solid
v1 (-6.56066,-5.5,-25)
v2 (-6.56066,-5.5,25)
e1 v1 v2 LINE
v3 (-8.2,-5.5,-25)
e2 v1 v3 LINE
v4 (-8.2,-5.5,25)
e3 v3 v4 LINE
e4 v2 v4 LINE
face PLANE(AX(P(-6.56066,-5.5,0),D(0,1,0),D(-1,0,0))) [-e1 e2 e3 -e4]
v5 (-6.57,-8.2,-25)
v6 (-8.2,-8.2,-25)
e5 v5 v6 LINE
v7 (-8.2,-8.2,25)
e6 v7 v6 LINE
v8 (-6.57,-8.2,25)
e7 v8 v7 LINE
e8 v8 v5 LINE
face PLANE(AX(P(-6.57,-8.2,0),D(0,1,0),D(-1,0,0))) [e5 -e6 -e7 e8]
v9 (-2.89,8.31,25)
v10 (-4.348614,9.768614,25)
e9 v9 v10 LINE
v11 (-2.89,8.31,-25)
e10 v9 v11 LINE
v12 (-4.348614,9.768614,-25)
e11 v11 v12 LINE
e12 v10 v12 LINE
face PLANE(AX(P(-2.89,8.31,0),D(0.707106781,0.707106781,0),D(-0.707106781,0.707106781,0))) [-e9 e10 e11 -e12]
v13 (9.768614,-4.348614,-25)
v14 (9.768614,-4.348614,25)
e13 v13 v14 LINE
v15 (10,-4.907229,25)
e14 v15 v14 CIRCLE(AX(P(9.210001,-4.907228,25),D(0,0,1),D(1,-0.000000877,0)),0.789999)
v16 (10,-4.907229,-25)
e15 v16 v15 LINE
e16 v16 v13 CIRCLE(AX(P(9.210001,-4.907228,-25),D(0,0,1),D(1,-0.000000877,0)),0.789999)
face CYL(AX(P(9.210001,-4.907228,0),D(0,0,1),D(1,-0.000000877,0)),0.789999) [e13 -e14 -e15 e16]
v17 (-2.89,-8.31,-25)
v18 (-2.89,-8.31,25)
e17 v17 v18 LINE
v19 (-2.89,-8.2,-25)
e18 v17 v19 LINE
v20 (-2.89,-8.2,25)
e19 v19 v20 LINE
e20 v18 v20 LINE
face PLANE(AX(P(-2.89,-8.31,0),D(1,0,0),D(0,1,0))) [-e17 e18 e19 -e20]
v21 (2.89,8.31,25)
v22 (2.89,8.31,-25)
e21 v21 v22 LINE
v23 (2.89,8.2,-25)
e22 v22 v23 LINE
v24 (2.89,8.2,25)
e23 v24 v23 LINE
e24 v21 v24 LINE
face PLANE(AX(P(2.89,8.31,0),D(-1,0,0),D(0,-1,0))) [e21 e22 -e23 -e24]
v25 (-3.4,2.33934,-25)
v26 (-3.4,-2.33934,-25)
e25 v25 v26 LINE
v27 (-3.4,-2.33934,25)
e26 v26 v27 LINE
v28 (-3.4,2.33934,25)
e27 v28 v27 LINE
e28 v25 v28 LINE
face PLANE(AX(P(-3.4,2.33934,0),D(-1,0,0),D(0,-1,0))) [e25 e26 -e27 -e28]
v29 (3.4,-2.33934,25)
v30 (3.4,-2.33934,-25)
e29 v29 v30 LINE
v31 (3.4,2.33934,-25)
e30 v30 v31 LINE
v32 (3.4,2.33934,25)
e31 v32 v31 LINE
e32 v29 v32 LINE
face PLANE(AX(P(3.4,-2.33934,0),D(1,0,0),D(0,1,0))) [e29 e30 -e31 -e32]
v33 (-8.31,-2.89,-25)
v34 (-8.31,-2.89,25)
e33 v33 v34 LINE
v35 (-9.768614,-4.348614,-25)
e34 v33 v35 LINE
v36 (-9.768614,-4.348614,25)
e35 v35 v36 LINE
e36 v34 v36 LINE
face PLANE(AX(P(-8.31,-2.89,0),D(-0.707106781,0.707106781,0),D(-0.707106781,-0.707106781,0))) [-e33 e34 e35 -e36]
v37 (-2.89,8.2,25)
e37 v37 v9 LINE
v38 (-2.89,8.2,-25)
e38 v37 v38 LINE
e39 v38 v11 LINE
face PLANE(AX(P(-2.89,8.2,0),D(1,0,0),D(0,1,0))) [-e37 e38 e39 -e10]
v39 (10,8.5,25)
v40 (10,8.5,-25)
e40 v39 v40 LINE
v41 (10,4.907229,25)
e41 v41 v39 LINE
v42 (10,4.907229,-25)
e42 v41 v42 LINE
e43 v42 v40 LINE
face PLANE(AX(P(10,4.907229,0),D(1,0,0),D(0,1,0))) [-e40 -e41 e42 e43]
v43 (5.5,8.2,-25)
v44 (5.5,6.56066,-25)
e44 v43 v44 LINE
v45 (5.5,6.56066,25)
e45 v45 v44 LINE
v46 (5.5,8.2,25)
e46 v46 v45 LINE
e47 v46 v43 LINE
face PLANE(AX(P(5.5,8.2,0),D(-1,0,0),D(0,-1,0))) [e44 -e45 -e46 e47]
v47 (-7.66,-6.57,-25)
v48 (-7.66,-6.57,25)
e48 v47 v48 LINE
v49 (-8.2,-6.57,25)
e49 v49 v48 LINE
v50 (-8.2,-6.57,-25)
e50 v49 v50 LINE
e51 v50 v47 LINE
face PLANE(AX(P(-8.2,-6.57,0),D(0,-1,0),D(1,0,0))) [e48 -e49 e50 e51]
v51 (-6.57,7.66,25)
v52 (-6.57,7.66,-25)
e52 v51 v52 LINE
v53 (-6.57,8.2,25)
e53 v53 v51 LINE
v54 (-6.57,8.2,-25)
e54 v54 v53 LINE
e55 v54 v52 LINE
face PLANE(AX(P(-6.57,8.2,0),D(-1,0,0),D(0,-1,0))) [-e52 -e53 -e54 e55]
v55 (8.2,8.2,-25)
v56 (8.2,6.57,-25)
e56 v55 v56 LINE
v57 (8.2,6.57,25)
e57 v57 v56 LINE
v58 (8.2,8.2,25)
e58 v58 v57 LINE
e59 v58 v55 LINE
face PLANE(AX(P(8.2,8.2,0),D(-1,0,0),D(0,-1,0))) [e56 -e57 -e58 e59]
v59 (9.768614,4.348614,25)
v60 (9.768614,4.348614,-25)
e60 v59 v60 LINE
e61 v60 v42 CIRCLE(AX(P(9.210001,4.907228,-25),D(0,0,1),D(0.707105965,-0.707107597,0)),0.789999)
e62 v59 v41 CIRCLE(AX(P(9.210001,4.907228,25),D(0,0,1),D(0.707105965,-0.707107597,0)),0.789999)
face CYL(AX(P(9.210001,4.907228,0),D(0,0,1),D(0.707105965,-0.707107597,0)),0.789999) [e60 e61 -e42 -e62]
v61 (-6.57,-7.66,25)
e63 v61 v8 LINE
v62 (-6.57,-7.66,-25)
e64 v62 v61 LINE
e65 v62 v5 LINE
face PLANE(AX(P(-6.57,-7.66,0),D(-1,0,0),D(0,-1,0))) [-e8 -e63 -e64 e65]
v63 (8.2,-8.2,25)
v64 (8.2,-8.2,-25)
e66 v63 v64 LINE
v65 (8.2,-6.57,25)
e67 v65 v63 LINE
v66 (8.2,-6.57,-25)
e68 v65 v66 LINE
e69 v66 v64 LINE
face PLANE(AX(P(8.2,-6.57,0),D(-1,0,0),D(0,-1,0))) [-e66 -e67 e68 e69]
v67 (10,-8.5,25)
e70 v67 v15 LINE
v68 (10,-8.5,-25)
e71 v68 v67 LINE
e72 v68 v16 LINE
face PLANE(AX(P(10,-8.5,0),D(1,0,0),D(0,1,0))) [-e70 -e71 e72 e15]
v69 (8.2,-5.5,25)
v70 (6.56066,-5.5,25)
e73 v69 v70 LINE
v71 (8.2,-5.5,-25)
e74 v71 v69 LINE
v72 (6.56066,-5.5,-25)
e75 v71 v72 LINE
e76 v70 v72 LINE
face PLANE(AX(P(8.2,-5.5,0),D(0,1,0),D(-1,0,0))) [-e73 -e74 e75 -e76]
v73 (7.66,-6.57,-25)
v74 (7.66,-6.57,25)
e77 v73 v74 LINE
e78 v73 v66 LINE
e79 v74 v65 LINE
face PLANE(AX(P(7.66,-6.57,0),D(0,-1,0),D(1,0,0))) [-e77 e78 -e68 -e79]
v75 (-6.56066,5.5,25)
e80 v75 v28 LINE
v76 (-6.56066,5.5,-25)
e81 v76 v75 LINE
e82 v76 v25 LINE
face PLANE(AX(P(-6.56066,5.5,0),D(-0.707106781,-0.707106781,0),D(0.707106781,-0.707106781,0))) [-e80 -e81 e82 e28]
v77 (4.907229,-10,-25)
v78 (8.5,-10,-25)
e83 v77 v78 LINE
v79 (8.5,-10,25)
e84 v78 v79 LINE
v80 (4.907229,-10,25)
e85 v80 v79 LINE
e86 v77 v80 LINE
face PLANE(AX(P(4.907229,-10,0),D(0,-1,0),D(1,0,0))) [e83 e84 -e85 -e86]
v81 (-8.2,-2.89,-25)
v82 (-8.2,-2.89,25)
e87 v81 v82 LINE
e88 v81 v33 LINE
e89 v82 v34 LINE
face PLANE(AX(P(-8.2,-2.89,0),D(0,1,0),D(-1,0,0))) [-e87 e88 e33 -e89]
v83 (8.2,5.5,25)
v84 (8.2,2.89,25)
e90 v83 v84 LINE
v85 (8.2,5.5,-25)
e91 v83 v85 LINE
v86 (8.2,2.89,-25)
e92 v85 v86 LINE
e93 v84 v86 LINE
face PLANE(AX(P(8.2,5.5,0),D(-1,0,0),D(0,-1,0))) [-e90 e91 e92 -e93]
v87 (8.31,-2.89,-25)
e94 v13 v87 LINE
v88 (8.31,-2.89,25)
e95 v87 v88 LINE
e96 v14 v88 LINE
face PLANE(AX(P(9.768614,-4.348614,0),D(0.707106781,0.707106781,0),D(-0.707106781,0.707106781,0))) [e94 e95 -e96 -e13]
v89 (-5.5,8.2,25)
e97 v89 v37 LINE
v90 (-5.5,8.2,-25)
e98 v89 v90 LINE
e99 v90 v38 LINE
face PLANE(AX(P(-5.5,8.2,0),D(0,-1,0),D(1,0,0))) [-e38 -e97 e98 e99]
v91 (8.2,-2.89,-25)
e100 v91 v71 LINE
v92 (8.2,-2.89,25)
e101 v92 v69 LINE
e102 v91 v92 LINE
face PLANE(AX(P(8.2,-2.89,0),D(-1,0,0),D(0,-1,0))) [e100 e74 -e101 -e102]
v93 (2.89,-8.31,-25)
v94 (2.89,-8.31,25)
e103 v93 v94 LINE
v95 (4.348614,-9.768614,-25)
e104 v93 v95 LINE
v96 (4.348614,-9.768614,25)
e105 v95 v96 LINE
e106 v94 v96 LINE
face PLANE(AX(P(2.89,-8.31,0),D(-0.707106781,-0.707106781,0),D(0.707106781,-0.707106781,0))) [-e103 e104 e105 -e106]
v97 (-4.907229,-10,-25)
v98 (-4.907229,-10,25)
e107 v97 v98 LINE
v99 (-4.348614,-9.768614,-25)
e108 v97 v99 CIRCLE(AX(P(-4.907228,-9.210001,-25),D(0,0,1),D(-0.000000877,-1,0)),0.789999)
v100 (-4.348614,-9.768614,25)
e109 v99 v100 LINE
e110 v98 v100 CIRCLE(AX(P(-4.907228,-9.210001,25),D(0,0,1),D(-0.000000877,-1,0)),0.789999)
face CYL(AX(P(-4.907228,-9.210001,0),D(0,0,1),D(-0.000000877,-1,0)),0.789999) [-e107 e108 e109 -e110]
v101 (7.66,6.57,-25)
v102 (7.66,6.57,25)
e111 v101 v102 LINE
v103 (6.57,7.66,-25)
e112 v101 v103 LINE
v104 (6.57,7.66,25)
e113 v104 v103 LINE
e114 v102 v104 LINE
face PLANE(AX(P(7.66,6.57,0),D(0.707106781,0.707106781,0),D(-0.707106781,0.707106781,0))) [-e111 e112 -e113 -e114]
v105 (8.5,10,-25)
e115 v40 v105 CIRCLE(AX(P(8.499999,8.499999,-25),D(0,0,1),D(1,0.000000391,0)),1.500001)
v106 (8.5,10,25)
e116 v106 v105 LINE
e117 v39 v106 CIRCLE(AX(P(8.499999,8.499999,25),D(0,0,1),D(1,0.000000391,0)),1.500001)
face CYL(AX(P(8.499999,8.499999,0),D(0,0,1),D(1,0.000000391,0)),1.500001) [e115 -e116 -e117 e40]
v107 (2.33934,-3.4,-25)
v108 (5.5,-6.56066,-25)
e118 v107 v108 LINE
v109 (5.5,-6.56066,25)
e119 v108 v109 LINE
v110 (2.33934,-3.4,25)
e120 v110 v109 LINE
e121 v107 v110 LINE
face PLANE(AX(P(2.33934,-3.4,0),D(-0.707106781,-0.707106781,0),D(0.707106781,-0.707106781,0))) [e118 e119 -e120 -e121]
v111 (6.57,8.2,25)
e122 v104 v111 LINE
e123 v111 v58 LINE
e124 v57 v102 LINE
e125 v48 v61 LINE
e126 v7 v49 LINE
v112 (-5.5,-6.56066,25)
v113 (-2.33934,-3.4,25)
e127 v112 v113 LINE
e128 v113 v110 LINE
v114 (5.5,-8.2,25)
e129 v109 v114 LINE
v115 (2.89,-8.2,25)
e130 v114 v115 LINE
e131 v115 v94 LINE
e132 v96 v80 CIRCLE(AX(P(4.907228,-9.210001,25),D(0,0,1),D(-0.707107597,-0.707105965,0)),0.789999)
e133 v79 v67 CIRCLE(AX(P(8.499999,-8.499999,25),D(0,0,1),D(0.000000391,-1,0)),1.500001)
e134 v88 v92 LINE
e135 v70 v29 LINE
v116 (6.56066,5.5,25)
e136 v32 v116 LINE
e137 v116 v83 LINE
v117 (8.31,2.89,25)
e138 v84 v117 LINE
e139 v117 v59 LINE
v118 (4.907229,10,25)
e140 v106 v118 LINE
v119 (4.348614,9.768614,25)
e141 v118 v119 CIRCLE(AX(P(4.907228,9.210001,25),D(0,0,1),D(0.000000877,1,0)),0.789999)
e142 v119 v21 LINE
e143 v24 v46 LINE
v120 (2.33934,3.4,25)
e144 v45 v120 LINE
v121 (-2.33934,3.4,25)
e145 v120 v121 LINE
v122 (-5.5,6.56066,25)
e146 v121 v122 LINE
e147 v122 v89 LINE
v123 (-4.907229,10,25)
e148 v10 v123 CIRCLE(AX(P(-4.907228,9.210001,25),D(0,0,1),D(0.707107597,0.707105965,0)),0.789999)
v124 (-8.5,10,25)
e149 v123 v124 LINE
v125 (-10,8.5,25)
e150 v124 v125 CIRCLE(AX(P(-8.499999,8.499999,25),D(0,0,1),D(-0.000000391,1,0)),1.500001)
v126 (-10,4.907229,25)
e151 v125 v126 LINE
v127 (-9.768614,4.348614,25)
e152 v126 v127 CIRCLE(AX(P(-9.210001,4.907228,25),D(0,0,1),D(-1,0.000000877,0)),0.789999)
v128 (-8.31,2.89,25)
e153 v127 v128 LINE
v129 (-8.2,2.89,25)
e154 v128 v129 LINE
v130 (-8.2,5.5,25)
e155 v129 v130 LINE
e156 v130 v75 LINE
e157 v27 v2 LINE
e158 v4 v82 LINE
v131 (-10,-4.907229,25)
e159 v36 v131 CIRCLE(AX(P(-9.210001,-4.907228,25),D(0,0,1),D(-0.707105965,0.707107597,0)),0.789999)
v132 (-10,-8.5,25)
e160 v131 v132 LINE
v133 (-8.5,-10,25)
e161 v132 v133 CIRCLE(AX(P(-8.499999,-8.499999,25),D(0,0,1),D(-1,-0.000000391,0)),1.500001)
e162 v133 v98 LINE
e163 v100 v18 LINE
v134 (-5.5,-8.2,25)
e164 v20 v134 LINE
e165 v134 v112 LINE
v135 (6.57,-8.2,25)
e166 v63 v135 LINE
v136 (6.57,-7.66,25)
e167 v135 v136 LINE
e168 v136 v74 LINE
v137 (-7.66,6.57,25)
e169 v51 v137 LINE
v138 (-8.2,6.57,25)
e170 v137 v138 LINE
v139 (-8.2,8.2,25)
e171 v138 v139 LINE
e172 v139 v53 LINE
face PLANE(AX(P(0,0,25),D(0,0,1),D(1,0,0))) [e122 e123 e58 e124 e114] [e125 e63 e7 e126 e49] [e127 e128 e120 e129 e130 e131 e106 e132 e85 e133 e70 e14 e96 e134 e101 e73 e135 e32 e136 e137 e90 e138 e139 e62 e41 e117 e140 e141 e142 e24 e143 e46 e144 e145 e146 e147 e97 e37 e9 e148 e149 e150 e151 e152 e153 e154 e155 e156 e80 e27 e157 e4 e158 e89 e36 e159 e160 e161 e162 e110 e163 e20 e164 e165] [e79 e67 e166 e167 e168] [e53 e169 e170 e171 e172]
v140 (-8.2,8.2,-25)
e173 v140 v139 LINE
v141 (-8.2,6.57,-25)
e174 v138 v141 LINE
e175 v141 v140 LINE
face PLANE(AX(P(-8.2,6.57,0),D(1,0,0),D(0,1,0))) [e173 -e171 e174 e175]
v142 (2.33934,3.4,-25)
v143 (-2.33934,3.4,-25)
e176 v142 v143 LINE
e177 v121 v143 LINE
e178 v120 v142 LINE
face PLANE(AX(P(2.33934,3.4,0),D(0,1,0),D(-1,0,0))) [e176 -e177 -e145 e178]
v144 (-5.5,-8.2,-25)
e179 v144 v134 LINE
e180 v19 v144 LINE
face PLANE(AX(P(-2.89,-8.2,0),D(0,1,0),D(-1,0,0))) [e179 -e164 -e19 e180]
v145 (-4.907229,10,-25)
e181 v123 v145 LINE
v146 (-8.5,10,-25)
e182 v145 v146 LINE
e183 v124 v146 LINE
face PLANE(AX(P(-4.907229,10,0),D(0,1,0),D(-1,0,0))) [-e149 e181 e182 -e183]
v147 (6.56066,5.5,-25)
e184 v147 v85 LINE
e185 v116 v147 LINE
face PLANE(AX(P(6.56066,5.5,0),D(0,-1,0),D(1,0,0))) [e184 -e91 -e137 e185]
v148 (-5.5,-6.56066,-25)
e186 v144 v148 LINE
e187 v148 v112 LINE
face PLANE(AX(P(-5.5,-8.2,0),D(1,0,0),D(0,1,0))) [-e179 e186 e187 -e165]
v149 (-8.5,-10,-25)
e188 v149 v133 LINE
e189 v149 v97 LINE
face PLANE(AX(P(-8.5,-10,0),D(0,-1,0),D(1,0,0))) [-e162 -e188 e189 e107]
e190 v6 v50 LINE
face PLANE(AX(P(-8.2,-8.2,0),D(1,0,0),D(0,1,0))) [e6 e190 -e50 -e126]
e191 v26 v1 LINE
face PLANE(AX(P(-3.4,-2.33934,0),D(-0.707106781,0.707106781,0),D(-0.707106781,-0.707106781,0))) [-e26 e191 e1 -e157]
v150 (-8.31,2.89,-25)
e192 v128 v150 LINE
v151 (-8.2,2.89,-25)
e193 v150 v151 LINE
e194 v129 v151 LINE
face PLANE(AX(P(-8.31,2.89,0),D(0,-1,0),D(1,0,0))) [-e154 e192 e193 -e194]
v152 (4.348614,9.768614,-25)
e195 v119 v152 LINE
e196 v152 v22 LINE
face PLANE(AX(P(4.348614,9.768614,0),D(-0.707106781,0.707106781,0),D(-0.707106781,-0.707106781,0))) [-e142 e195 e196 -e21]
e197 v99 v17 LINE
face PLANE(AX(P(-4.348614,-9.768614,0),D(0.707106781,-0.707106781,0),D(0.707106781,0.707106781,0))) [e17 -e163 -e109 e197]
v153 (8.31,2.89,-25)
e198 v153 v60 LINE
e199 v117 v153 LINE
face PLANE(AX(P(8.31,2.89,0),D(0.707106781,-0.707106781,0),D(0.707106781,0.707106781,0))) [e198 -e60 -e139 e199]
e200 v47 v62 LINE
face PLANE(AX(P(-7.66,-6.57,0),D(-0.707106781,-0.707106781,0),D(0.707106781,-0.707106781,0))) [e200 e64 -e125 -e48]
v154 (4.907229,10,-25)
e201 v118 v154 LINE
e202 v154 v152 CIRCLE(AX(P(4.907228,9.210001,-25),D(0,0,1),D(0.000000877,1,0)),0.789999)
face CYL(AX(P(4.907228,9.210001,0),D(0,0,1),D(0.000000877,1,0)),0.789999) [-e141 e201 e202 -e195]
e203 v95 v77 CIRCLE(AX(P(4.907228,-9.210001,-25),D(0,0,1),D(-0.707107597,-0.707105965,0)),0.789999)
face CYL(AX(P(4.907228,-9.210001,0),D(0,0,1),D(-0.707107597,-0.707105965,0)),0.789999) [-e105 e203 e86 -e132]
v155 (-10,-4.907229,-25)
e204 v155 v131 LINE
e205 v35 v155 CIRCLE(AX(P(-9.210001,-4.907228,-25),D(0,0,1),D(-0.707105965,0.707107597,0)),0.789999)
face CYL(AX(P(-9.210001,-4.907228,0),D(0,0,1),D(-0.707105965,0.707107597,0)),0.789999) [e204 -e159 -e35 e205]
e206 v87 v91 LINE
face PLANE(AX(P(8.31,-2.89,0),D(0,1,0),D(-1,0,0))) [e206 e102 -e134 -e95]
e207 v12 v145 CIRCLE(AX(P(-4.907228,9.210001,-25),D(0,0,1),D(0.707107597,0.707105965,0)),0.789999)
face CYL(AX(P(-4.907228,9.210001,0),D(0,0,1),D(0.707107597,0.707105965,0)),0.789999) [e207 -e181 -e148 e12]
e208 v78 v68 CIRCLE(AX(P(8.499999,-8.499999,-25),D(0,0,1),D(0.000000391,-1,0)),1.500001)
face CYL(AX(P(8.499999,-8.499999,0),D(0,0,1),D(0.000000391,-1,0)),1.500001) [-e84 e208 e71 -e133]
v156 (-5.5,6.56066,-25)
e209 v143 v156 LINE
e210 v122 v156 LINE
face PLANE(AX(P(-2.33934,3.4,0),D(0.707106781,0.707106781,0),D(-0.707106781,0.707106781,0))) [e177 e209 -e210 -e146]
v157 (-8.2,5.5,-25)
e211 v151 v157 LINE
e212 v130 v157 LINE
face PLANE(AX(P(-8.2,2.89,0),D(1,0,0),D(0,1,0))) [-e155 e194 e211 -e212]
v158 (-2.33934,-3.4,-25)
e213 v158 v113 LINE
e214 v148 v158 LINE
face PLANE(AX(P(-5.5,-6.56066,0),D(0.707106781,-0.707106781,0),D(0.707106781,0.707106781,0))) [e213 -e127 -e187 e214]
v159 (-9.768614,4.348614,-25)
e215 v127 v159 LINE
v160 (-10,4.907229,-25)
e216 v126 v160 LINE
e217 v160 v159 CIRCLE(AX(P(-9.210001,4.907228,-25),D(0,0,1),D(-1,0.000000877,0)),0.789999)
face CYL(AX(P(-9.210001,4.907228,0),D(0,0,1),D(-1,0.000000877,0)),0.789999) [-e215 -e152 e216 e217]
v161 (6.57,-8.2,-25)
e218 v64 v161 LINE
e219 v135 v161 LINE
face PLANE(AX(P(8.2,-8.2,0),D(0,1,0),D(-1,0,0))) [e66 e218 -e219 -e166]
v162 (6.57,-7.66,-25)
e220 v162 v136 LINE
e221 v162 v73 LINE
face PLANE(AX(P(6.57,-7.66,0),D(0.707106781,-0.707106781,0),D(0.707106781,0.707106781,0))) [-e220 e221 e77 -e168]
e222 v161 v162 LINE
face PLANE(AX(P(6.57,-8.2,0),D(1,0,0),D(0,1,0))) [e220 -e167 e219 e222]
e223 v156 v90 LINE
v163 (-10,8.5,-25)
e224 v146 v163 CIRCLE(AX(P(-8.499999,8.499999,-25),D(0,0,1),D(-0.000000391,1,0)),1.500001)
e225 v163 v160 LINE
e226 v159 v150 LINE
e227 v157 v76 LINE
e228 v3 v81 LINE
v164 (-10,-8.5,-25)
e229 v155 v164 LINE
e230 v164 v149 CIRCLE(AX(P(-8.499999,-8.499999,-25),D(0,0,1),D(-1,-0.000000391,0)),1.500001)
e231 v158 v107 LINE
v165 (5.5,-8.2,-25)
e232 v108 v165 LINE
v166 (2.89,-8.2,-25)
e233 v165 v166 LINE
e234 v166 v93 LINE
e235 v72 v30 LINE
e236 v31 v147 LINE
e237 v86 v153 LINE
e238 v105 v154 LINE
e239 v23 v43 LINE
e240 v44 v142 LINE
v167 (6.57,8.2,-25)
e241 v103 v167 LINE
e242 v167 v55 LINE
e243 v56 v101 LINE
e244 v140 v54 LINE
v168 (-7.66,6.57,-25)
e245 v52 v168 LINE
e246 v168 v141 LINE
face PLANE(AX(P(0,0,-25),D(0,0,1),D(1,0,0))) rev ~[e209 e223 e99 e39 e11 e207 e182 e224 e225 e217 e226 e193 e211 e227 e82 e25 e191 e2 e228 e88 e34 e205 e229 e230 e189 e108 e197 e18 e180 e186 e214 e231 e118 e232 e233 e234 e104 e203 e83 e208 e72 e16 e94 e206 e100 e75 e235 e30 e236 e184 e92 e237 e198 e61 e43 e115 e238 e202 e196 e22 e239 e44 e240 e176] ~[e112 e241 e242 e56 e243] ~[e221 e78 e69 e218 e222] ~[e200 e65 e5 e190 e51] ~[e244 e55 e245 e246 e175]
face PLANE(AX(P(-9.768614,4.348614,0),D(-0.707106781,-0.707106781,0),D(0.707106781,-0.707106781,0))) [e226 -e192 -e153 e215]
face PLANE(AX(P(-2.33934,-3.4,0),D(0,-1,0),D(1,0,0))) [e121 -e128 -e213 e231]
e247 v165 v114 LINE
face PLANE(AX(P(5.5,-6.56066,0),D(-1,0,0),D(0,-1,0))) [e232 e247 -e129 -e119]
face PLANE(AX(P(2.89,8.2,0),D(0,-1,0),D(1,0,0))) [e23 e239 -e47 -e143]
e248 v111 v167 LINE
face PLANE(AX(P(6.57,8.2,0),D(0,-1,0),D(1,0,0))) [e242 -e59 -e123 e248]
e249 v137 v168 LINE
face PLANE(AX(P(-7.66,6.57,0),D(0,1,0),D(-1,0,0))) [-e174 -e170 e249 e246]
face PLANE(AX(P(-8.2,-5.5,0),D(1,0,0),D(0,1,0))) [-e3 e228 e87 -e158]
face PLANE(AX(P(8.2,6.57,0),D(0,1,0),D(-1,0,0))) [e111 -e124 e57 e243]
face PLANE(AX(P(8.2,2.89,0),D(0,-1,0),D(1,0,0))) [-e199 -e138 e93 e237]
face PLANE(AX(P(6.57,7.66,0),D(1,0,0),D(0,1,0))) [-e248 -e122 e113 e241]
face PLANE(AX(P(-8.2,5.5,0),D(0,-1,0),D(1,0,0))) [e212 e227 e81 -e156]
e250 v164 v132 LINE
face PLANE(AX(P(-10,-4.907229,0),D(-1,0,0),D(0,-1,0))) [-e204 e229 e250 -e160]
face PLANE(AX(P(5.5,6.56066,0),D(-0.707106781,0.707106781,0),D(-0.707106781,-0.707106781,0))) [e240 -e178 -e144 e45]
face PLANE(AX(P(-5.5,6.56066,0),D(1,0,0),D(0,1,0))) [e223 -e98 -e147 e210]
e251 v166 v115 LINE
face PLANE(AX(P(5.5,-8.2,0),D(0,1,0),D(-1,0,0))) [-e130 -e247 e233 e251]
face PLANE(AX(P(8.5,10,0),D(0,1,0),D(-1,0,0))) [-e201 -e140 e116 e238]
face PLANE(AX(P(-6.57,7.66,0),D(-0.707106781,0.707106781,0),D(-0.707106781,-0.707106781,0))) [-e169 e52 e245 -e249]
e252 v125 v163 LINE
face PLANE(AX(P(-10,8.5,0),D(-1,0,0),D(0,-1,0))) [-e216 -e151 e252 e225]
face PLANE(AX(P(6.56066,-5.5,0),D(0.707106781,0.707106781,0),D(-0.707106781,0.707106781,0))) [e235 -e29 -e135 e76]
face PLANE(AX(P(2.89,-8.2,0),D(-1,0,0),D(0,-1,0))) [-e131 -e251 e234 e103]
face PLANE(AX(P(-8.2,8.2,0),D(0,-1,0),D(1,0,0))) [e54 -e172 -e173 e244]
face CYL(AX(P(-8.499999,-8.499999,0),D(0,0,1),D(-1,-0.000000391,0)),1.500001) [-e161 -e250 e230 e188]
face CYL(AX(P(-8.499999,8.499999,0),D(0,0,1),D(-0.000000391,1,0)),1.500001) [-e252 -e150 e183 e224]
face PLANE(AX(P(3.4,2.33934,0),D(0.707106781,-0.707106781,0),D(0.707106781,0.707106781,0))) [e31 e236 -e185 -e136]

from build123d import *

# Parameters (mm, degrees)
F1_DEPTH = 25


with BuildPart() as f1:
    # F0 (on Top) → F1 (new body, symmetric)
    with BuildSketch(Plane.XY):
        with BuildLine():
            Line((-8.2, 5.5), (-6.56066, 5.5))
            Line((-6.56066, 5.5), (-3.4, 2.33934))
            Line((-3.4, 2.33934), (-3.4, -2.33934))
            Line((-3.4, -2.33934), (-6.56066, -5.5))
            Line((-6.56066, -5.5), (-8.2, -5.5))
            Line((-8.2, -5.5), (-8.2, -2.89))
            Line((-8.2, -2.89), (-8.31, -2.89))
            Line((-8.31, -2.89), (-9.768614, -4.348614))
            ThreePointArc((-9.768614, -4.348614), (-9.939865, -4.604909), (-10, -4.907229))
            Line((-10, -4.907229), (-10, -8.5))
            ThreePointArc((-10, -8.5), (-9.56066, -9.56066), (-8.5, -10))
            Line((-8.5, -10), (-4.907229, -10))
            ThreePointArc((-4.907229, -10), (-4.604909, -9.939865), (-4.348614, -9.768614))
            Line((-4.348614, -9.768614), (-2.89, -8.31))
            Line((-2.89, -8.31), (-2.89, -8.2))
            Line((-2.89, -8.2), (-5.5, -8.2))
            Line((-5.5, -8.2), (-5.5, -6.56066))
            Line((-5.5, -6.56066), (-2.33934, -3.4))
            Line((-2.33934, -3.4), (2.33934, -3.4))
            Line((2.33934, -3.4), (5.5, -6.56066))
            Line((5.5, -6.56066), (5.5, -8.2))
            Line((5.5, -8.2), (2.89, -8.2))
            Line((2.89, -8.2), (2.89, -8.31))
            Line((2.89, -8.31), (4.348614, -9.768614))
            ThreePointArc((4.348614, -9.768614), (4.604909, -9.939865), (4.907229, -10))
            Line((4.907229, -10), (8.5, -10))
            ThreePointArc((8.5, -10), (9.56066, -9.56066), (10, -8.5))
            Line((10, -8.5), (10, -4.907229))
            ThreePointArc((10, -4.907229), (9.939865, -4.604909), (9.768614, -4.348614))
            Line((9.768614, -4.348614), (8.31, -2.89))
            Line((8.31, -2.89), (8.2, -2.89))
            Line((8.2, -2.89), (8.2, -5.5))
            Line((8.2, -5.5), (6.56066, -5.5))
            Line((6.56066, -5.5), (3.4, -2.33934))
            Line((3.4, -2.33934), (3.4, 2.33934))
            Line((3.4, 2.33934), (6.56066, 5.5))
            Line((6.56066, 5.5), (8.2, 5.5))
            Line((8.2, 5.5), (8.2, 2.89))
            Line((8.2, 2.89), (8.31, 2.89))
            Line((8.31, 2.89), (9.768614, 4.348614))
            ThreePointArc((9.768614, 4.348614), (9.939865, 4.604909), (10, 4.907229))
            Line((10, 4.907229), (10, 8.5))
            ThreePointArc((10, 8.5), (9.56066, 9.56066), (8.5, 10))
            Line((8.5, 10), (4.907229, 10))
            ThreePointArc((4.907229, 10), (4.604909, 9.939865), (4.348614, 9.768614))
            Line((4.348614, 9.768614), (2.89, 8.31))
            Line((2.89, 8.31), (2.89, 8.2))
            Line((2.89, 8.2), (5.5, 8.2))
            Line((5.5, 8.2), (5.5, 6.56066))
            Line((5.5, 6.56066), (2.33934, 3.4))
            Line((2.33934, 3.4), (-2.33934, 3.4))
            Line((-2.33934, 3.4), (-5.5, 6.56066))
            Line((-5.5, 6.56066), (-5.5, 8.2))
            Line((-5.5, 8.2), (-2.89, 8.2))
            Line((-2.89, 8.2), (-2.89, 8.31))
            Line((-2.89, 8.31), (-4.348614, 9.768614))
            ThreePointArc((-4.348614, 9.768614), (-4.604909, 9.939865), (-4.907229, 10))
            Line((-4.907229, 10), (-8.5, 10))
            ThreePointArc((-8.5, 10), (-9.56066, 9.56066), (-10, 8.5))
            Line((-10, 8.5), (-10, 4.907229))
            ThreePointArc((-10, 4.907229), (-9.939865, 4.604909), (-9.768614, 4.348614))
            Line((-9.768614, 4.348614), (-8.31, 2.89))
            Line((-8.31, 2.89), (-8.2, 2.89))
            Line((-8.2, 2.89), (-8.2, 5.5))
        make_face()
        Polygon((-7.66, -6.57), (-6.57, -7.66), (-6.57, -8.2), (-8.2, -8.2), (-8.2, -6.57), align=None, mode=Mode.SUBTRACT)
        Polygon((6.57, -7.66), (7.66, -6.57), (8.2, -6.57), (8.2, -8.2), (6.57, -8.2), align=None, mode=Mode.SUBTRACT)
        Polygon((-8.2, 8.2), (-6.57, 8.2), (-6.57, 7.66), (-7.66, 6.57), (-8.2, 6.57), align=None, mode=Mode.SUBTRACT)
        Polygon((7.66, 6.57), (6.57, 7.66), (6.57, 8.2), (8.2, 8.2), (8.2, 6.57), align=None, mode=Mode.SUBTRACT)
    extrude(amount=F1_DEPTH, both=True)


solid = f1.part
